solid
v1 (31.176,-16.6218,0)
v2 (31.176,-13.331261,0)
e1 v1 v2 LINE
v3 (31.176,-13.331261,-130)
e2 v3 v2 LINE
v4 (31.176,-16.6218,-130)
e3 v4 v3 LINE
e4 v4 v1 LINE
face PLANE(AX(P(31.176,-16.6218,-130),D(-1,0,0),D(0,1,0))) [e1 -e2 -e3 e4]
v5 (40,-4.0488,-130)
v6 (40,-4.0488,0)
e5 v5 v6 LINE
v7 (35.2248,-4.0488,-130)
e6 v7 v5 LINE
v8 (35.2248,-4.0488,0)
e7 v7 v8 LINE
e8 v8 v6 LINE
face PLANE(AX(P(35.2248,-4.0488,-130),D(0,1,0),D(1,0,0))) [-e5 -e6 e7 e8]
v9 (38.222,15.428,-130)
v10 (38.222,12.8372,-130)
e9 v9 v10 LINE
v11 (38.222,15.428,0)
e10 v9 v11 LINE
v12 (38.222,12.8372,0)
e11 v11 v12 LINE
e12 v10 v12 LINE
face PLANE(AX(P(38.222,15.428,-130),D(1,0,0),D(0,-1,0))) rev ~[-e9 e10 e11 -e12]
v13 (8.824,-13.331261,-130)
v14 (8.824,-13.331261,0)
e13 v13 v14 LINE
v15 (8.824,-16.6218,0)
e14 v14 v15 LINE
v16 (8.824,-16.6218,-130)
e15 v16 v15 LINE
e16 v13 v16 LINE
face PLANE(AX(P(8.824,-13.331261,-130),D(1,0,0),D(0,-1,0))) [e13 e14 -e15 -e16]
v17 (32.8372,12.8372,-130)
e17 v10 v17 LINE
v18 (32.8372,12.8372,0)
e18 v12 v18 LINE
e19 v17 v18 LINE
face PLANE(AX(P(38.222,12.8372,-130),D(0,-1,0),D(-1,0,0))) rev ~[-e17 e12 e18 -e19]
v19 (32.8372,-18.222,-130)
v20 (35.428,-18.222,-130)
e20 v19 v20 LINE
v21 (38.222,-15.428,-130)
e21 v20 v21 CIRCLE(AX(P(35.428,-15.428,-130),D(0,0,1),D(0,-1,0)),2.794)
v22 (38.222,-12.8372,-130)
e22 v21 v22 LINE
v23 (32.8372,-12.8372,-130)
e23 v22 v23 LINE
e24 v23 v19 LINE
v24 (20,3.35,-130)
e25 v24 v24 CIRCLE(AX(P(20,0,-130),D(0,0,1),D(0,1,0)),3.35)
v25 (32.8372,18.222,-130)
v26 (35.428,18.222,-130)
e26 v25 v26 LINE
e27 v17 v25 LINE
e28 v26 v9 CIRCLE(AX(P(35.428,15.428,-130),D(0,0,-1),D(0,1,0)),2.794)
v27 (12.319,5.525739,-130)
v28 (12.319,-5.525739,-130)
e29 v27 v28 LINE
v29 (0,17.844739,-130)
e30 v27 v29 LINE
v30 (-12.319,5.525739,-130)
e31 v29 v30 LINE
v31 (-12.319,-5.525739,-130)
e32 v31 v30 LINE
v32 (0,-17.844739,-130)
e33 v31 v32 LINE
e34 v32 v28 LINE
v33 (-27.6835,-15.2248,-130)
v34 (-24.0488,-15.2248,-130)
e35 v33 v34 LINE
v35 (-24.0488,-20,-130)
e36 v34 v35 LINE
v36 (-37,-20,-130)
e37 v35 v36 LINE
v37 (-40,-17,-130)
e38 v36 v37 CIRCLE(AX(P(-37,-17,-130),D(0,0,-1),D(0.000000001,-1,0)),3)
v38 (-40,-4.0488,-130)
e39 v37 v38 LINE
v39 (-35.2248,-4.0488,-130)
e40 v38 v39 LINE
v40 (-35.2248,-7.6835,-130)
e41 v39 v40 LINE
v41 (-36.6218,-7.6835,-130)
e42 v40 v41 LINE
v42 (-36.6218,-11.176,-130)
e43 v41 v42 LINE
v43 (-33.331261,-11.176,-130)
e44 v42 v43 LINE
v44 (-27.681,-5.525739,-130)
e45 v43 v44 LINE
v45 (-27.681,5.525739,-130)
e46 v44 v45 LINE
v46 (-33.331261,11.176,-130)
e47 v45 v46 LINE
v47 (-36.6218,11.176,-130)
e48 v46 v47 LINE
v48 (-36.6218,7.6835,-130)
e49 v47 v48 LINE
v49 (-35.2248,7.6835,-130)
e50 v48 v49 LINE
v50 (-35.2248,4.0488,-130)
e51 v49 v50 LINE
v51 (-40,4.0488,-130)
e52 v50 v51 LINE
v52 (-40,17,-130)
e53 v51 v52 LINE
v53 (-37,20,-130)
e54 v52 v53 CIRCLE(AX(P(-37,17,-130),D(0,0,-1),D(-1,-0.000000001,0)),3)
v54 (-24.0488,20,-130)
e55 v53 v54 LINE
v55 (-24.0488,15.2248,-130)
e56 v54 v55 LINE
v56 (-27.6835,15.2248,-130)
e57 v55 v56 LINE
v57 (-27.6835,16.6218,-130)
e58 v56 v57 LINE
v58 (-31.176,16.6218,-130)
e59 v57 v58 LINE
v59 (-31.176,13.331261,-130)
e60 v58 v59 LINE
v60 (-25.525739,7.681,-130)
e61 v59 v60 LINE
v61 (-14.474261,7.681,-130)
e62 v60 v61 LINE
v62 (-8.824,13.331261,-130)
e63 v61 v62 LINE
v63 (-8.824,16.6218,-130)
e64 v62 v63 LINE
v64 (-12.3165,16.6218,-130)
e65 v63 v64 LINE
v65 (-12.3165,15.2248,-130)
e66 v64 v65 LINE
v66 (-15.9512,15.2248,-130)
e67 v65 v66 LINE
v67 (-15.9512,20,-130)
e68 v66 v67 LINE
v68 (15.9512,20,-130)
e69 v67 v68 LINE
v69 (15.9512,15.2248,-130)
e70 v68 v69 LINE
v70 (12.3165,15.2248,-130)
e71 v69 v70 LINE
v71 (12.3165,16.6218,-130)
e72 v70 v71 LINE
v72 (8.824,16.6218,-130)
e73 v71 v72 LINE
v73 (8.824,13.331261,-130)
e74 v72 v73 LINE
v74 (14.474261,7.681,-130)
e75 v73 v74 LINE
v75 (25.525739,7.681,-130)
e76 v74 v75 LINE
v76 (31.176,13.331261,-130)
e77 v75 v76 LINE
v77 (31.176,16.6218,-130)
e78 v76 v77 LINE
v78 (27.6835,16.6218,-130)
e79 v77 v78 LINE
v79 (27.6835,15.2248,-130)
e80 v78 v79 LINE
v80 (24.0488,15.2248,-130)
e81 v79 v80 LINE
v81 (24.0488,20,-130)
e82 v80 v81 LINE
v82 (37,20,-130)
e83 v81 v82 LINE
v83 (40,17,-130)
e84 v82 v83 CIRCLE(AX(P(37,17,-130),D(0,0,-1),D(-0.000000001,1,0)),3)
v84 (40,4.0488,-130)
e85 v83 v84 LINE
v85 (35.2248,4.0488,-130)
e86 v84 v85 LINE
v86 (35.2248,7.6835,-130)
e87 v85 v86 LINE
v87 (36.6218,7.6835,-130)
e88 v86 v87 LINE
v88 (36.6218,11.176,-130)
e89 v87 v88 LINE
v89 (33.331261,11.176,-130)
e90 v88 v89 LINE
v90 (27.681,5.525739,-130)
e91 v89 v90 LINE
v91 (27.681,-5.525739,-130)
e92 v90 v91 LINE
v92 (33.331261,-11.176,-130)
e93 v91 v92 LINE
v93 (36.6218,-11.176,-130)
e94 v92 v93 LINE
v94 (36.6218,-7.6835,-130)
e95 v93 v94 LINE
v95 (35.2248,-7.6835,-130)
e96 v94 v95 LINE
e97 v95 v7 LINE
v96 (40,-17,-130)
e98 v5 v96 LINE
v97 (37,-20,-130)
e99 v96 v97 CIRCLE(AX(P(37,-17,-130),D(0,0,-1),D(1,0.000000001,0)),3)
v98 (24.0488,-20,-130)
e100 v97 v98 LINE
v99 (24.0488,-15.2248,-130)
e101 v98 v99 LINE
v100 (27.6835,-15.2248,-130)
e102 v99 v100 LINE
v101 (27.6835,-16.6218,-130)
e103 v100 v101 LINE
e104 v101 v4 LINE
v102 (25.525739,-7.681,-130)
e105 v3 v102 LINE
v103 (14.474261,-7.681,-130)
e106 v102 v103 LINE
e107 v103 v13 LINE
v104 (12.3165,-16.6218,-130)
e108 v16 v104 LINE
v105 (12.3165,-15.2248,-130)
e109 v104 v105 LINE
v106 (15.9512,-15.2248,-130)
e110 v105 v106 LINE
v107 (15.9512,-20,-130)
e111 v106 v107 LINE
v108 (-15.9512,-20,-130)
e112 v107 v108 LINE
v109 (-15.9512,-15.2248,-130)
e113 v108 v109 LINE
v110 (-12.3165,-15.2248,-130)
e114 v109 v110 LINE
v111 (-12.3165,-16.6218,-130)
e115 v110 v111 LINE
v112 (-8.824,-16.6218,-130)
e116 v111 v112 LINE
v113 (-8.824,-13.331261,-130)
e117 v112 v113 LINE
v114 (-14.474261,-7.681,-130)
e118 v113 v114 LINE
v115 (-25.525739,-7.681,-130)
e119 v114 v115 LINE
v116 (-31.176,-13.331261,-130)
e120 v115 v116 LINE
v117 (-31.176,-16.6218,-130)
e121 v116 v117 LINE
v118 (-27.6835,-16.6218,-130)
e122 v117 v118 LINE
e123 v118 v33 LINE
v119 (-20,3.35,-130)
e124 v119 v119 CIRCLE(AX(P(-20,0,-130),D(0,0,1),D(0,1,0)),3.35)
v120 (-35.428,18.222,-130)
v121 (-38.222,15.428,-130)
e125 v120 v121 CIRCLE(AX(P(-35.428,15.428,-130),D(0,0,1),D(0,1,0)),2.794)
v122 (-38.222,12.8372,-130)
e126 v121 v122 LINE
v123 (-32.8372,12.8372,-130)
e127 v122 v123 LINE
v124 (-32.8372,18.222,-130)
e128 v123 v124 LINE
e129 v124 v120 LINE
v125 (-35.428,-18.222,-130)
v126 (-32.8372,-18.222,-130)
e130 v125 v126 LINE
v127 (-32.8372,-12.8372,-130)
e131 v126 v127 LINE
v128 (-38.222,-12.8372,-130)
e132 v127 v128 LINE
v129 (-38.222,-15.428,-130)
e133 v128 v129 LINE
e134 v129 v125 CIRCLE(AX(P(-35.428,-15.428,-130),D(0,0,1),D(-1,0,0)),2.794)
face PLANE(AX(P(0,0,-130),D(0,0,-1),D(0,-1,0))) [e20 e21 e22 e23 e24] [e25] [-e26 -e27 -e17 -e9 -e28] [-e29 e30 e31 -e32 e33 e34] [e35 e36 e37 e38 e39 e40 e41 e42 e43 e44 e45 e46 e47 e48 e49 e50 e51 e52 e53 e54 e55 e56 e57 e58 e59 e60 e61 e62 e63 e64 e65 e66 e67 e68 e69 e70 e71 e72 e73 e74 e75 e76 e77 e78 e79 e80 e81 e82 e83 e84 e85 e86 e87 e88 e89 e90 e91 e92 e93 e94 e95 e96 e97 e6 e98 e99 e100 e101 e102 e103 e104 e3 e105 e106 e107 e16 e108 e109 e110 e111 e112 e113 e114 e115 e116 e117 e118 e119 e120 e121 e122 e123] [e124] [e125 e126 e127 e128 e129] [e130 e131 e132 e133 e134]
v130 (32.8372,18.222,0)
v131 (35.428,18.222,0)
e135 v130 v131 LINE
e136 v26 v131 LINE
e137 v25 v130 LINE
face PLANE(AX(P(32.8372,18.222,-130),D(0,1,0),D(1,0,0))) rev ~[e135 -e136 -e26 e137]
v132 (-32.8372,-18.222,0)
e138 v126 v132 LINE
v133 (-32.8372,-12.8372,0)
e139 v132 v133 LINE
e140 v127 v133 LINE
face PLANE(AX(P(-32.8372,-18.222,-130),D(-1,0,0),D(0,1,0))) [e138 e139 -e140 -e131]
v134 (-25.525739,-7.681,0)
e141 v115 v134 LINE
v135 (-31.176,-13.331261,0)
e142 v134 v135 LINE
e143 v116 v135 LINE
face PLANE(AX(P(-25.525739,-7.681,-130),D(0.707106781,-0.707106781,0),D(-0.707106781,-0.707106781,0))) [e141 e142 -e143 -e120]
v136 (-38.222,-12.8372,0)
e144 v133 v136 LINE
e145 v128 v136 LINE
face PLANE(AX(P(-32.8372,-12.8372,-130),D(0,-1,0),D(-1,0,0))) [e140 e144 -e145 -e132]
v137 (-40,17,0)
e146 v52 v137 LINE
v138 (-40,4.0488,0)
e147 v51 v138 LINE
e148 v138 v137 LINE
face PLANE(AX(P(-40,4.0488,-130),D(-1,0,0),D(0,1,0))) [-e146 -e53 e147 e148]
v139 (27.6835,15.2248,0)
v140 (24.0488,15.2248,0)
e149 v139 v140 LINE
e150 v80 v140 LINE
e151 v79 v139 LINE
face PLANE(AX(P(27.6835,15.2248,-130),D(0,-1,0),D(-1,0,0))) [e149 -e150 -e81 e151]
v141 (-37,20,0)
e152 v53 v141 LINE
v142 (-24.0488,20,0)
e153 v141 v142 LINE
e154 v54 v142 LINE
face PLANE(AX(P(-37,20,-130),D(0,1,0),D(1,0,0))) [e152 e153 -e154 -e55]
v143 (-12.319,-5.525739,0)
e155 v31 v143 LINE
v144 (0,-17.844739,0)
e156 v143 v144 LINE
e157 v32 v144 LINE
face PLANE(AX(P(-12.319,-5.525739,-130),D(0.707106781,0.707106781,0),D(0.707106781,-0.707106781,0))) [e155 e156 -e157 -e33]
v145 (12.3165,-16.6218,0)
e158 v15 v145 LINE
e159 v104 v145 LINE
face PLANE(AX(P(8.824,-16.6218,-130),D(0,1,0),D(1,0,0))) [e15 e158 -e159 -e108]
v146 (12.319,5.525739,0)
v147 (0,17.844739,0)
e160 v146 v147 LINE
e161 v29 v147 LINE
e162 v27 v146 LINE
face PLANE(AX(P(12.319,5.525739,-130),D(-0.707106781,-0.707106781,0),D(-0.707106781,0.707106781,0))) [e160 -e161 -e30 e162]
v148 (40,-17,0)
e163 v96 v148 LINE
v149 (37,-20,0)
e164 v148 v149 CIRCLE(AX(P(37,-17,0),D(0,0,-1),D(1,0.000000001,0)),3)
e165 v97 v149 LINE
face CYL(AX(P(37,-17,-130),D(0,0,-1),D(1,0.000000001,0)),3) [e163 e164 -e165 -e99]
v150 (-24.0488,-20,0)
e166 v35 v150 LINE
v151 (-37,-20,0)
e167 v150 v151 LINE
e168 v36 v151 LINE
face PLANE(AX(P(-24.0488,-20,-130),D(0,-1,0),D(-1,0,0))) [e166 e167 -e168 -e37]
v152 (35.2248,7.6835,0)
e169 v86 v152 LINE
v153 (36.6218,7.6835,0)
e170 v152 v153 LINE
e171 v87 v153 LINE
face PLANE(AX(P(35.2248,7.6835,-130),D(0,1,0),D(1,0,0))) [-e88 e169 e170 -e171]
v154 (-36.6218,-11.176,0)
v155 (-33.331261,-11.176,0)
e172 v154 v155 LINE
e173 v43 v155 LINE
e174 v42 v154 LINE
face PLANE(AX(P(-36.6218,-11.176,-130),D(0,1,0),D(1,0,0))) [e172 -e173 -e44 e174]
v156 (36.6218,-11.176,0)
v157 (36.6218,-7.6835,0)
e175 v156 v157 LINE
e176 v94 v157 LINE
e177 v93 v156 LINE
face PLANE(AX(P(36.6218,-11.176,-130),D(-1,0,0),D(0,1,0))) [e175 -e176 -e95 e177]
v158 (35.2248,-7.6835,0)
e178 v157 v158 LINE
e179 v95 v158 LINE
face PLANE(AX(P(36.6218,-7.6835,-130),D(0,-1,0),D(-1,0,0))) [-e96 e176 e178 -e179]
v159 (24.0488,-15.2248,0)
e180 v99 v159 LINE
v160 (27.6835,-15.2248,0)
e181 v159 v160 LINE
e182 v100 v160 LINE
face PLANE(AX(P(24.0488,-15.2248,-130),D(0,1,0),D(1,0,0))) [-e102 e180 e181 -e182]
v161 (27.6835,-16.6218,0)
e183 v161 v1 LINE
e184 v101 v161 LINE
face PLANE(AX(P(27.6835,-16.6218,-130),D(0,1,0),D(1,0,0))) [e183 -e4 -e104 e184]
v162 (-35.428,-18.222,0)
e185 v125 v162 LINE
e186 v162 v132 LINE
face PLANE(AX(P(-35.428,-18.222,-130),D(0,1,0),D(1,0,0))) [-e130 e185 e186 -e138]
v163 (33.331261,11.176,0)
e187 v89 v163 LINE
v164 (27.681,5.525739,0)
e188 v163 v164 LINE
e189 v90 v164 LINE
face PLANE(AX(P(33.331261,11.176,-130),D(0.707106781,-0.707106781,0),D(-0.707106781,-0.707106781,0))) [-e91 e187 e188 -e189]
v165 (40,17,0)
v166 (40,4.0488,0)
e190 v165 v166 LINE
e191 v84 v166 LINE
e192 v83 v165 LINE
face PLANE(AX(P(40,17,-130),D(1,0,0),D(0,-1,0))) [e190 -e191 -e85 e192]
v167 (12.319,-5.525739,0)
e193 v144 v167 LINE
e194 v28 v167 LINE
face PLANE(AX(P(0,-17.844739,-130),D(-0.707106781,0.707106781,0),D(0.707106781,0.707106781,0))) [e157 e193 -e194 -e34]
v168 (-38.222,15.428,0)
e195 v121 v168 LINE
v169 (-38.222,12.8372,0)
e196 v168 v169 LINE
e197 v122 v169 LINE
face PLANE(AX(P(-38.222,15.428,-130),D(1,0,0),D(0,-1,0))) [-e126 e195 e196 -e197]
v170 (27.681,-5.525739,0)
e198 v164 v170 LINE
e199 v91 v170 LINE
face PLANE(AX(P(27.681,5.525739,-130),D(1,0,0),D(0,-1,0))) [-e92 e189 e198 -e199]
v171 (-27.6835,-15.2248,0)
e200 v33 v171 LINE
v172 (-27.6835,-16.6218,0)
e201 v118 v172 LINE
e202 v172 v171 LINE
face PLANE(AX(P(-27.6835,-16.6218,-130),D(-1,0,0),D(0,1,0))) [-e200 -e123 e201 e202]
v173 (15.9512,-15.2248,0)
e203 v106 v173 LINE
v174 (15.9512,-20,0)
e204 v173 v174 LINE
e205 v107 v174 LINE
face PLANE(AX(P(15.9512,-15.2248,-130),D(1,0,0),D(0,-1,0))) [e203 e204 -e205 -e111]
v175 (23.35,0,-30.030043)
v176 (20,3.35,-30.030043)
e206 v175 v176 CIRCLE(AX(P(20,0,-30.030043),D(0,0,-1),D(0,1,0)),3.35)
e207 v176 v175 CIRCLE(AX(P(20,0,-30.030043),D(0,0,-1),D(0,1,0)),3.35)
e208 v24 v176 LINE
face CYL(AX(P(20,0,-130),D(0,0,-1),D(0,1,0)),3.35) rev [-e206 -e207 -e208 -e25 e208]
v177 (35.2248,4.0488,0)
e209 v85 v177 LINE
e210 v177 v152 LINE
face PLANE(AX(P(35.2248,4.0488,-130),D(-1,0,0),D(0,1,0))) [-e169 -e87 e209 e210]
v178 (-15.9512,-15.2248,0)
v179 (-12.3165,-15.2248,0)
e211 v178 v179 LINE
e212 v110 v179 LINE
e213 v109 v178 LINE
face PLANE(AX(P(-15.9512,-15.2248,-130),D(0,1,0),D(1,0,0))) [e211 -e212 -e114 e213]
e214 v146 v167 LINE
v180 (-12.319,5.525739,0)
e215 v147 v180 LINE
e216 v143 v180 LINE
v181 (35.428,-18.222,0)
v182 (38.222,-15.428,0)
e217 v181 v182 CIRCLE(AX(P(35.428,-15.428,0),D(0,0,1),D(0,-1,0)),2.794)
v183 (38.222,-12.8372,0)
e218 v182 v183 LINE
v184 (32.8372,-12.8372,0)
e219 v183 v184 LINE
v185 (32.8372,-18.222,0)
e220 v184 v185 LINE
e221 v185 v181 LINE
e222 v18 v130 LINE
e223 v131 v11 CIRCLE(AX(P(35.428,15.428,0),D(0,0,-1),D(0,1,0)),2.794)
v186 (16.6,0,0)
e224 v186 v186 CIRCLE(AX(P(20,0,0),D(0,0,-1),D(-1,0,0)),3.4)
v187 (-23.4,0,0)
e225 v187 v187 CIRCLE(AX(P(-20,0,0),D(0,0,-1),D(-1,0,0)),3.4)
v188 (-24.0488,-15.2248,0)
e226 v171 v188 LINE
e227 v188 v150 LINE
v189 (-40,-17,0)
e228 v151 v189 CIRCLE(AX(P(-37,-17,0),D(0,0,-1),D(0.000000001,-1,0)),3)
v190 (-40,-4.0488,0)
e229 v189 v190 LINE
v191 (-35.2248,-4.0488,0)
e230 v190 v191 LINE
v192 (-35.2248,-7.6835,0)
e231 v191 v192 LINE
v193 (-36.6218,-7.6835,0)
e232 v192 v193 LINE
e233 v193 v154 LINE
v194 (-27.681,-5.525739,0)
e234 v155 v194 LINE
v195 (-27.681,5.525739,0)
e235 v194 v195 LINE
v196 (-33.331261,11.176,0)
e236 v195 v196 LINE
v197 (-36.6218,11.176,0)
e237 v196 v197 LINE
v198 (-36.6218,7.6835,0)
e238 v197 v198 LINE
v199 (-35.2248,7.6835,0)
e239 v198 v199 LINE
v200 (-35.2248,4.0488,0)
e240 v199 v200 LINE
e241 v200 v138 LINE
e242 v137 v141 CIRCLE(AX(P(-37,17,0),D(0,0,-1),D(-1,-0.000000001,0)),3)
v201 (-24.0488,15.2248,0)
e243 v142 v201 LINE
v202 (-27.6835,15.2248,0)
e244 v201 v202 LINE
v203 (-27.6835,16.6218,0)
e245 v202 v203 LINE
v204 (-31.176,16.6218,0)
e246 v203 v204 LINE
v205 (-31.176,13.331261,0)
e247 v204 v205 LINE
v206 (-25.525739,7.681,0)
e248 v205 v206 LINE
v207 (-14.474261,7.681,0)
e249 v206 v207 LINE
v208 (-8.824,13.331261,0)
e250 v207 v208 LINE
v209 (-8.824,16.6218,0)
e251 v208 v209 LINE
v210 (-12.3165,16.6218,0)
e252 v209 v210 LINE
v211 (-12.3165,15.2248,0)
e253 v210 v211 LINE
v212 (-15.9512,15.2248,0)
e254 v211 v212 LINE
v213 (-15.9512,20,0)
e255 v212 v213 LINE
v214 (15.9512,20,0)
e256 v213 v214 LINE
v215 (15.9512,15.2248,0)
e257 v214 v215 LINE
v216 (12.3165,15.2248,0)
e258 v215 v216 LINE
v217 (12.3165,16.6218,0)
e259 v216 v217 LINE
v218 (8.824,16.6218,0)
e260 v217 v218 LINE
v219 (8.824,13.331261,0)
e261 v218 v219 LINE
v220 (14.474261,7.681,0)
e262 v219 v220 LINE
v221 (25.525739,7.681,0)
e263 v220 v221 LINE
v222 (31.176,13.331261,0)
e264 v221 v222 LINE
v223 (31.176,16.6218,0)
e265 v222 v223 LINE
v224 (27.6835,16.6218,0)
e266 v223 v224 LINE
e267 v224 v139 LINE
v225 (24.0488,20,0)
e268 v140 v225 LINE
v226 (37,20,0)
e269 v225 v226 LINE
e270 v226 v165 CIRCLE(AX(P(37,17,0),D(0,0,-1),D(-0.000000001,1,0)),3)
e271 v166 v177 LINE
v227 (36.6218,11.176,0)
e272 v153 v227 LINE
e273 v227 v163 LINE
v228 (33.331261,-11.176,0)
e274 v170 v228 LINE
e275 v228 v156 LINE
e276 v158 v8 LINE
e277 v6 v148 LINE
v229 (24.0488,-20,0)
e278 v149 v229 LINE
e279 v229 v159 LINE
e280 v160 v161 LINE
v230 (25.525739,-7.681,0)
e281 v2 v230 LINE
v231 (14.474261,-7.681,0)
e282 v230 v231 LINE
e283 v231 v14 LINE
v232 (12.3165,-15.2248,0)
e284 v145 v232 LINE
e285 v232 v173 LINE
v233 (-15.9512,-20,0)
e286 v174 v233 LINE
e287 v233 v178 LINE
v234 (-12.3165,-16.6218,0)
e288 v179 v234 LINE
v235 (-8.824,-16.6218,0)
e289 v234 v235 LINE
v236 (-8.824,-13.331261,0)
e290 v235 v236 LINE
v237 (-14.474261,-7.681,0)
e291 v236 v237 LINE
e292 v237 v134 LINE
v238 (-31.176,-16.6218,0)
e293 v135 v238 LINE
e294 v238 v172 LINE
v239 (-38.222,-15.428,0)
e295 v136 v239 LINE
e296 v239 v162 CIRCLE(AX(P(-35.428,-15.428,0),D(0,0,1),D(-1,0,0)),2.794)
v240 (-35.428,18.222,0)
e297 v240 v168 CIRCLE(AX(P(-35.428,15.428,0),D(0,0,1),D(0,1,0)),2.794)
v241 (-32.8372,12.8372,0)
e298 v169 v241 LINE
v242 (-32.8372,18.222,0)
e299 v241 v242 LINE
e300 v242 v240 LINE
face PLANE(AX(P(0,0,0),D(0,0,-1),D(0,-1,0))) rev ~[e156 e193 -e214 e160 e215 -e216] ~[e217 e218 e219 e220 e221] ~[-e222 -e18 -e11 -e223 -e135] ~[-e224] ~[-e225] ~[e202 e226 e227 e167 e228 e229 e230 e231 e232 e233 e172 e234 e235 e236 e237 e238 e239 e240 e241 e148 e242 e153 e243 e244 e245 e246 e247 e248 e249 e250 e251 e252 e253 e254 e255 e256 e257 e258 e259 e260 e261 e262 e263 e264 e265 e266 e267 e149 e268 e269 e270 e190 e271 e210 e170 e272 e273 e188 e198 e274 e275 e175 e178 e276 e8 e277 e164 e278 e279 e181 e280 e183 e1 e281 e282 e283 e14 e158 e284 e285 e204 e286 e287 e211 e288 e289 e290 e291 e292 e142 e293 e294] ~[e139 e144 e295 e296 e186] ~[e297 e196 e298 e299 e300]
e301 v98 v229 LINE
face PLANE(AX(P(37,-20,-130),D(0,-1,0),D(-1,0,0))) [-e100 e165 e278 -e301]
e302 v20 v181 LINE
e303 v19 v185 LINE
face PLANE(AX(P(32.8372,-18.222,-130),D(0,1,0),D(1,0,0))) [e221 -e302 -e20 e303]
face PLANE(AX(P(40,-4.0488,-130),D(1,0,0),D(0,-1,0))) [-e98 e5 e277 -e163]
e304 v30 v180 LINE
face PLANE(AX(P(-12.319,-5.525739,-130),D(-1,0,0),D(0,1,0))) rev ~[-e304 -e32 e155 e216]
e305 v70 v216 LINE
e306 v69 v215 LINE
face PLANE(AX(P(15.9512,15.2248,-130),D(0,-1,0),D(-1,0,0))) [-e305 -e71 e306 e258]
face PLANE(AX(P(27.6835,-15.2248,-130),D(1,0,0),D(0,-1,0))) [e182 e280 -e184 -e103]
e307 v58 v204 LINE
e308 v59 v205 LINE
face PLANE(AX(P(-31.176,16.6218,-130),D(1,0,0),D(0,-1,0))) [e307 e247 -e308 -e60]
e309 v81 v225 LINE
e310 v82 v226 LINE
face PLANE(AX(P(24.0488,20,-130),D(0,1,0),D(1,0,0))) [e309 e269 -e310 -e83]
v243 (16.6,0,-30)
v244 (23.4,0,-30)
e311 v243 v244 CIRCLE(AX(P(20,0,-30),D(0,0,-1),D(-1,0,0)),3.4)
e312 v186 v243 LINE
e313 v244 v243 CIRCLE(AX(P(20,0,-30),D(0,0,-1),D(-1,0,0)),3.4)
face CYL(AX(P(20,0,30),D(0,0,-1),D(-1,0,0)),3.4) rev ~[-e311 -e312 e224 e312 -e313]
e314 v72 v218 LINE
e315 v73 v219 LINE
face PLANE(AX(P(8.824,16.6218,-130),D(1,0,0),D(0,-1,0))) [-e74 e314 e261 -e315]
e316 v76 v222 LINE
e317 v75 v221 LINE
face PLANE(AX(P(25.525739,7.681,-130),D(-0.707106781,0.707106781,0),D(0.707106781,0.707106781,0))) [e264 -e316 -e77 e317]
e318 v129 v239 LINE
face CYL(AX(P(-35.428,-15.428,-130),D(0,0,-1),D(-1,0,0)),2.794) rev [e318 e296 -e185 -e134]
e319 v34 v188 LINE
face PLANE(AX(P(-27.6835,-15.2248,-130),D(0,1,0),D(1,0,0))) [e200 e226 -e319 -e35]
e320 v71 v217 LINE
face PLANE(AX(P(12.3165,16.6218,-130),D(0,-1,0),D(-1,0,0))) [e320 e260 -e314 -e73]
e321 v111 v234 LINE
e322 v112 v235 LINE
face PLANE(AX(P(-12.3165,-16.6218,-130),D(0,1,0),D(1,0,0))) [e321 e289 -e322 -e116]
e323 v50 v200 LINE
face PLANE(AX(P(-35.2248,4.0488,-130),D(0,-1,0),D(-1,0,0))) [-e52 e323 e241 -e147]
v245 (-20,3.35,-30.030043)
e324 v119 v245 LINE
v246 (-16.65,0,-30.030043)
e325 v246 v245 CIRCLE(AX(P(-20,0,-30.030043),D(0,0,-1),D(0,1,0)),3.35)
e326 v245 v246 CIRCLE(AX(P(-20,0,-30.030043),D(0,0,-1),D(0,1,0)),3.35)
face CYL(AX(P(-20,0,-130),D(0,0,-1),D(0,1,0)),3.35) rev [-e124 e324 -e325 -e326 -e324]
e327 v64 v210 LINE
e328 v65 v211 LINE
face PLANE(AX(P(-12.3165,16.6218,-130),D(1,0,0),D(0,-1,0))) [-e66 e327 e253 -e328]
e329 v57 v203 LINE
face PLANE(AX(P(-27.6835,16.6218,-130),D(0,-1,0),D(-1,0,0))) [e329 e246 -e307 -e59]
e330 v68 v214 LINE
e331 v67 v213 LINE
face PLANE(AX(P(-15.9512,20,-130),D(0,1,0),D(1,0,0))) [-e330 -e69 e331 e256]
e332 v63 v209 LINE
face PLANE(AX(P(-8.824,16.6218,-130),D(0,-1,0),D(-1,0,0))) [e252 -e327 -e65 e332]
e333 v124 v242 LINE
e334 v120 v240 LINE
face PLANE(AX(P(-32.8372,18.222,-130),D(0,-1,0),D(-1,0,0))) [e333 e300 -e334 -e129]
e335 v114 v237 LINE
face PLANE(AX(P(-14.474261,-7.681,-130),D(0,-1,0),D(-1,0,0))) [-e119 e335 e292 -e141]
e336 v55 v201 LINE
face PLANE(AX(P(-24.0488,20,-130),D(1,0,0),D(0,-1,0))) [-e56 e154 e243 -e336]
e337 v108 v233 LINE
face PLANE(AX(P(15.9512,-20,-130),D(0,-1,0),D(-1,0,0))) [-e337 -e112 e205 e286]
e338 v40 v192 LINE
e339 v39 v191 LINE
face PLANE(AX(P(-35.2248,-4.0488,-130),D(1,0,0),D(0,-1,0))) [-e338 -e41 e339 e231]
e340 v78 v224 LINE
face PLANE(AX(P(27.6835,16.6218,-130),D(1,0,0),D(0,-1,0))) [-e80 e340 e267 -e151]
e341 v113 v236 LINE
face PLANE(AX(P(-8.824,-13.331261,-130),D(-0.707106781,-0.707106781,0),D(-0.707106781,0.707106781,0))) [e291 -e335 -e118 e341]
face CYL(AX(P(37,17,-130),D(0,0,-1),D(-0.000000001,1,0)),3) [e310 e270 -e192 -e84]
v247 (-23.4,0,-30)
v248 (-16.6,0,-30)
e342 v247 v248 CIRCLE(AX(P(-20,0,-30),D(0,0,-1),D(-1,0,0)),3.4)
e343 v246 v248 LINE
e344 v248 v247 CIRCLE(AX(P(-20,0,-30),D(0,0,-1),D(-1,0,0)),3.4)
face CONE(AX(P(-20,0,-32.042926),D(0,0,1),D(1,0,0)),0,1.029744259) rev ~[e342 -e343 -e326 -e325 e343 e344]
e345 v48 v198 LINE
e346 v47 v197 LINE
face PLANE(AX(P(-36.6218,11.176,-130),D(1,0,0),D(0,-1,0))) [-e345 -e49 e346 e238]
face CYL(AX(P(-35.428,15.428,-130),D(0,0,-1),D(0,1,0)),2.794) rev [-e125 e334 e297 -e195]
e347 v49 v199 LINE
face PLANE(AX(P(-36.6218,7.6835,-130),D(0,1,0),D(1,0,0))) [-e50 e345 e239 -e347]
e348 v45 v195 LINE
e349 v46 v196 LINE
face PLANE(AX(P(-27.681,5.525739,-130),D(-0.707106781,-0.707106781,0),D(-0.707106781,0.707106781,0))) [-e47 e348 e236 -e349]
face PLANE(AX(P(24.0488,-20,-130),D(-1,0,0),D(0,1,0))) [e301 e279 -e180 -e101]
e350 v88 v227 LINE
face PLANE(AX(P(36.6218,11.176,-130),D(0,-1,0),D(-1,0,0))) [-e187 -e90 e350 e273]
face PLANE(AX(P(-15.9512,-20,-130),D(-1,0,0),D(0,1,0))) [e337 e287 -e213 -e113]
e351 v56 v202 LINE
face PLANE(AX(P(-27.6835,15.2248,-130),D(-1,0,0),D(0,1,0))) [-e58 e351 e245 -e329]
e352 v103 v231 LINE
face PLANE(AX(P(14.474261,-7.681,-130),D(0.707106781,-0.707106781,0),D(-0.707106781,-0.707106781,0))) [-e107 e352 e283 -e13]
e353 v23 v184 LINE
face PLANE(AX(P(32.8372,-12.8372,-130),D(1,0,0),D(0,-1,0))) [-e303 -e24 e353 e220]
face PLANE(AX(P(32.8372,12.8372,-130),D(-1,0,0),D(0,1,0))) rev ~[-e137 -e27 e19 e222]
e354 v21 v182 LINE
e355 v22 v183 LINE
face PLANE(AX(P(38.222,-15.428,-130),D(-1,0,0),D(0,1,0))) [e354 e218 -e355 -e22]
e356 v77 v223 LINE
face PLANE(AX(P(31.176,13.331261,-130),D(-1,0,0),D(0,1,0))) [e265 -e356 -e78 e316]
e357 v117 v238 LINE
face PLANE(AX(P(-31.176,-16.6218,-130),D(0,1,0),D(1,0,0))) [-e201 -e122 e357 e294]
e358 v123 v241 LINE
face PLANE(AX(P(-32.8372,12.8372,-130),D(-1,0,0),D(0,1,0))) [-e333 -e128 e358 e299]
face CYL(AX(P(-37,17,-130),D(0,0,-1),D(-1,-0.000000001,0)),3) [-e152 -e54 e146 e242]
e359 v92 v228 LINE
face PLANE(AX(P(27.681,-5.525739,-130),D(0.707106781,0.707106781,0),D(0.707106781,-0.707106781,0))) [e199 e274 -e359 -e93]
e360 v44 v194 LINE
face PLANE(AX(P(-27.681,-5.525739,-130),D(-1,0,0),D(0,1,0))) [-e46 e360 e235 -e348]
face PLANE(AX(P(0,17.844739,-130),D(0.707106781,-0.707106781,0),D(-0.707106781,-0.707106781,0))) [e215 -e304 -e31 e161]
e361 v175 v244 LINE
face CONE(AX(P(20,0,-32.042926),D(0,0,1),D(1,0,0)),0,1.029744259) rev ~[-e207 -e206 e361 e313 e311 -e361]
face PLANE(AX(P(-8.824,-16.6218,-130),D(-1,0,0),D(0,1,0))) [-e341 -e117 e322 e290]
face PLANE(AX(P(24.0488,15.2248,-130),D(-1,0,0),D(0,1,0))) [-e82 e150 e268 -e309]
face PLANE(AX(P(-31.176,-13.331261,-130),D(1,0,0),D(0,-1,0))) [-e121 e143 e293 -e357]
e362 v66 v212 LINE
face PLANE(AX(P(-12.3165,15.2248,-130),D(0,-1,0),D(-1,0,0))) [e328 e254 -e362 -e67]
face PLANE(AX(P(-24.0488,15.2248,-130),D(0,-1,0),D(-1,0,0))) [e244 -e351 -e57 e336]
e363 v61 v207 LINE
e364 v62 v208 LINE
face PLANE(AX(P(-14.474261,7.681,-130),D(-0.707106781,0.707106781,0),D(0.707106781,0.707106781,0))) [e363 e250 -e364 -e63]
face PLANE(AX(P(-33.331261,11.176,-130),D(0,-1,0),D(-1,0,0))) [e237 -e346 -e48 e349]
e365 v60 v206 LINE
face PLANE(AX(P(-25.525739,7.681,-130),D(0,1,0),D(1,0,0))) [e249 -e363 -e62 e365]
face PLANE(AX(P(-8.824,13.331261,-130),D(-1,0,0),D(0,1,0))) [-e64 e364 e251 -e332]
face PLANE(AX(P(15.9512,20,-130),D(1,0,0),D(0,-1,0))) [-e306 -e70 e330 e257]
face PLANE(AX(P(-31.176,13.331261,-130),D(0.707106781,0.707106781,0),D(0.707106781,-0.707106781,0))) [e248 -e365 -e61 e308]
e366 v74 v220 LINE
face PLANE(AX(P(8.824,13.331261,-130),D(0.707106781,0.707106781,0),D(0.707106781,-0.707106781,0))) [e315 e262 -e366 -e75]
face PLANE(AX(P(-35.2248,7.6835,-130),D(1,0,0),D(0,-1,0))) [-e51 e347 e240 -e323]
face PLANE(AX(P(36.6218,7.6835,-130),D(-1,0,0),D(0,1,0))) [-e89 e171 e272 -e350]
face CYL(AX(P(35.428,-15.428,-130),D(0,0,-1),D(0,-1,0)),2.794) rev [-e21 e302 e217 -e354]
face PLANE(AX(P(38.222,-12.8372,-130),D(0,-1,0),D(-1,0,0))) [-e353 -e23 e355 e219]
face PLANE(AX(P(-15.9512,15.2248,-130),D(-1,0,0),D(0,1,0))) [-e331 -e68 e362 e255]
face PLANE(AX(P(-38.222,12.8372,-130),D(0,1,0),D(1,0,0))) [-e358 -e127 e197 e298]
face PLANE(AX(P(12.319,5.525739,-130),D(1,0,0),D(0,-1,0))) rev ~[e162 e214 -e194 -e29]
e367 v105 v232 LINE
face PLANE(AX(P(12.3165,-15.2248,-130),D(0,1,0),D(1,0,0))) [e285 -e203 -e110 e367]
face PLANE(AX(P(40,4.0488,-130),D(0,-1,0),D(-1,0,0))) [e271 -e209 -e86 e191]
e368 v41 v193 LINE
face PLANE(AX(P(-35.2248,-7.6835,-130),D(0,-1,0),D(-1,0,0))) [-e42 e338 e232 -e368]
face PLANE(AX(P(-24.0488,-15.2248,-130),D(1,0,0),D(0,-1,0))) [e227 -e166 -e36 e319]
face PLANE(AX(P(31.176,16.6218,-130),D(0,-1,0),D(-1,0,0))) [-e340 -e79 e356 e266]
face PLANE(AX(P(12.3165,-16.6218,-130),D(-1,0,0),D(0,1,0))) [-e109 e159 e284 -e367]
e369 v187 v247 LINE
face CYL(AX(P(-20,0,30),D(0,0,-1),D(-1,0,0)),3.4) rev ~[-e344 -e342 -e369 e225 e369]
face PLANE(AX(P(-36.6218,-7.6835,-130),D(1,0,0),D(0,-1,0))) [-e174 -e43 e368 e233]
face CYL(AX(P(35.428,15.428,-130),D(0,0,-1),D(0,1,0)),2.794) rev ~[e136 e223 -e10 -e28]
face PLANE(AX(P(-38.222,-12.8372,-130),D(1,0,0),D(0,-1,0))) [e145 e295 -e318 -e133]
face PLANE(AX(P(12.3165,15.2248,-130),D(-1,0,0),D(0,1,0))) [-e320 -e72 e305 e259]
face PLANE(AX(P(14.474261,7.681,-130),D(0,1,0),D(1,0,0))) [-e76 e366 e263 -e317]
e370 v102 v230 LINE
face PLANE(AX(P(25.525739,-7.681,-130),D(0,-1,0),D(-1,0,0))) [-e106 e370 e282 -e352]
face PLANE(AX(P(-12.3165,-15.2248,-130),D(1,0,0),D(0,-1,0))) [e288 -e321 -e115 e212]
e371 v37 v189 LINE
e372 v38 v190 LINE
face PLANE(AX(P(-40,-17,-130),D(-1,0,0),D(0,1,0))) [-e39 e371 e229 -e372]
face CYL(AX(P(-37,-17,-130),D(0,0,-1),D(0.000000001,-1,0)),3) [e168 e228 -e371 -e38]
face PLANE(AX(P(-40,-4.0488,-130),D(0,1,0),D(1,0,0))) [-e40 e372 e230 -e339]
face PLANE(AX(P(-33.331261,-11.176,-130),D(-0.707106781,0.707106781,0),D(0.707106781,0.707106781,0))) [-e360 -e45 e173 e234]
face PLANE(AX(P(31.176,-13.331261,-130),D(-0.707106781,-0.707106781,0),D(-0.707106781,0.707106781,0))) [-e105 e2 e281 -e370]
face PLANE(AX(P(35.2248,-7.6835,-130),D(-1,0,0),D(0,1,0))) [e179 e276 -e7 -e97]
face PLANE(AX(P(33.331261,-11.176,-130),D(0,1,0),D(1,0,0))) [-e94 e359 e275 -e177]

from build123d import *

# Parameters (mm, degrees)
SKETCH2_R                            = 3.35
F_40_SERIES_TS40_80LM_650037_1_DEPTH = 130
M8X1_25_TAPPED_HOLE1_D               = 6.8
M8X1_25_TAPPED_HOLE1_DEPTH           = 30
M8X1_25_TAPPED_HOLE1_TIP             = 2.042926105


with BuildPart() as part:
    # Sketch2 → 40 series TS40-80LM-650037(1) (new body)
    with BuildSketch(Plane(origin=(0, 0, -130), x_dir=(0, 1, 0), z_dir=(0, 0, 1))):
        with BuildLine():
            Line((0, -27.681), (-5.525738531, -27.681))
            Line((-5.525738531, -27.681), (-11.176, -33.331261469))
            Line((-11.176, -33.331261469), (-11.176, -36.6218))
            Line((-11.176, -36.6218), (-7.6835, -36.6218))
            Line((-7.6835, -36.6218), (-7.6835, -35.2248))
            Line((-7.6835, -35.2248), (-4.0488, -35.2248))
            Line((-4.0488, -35.2248), (-4.0488, -40))
            Line((-4.0488, -40), (-17, -40))
            ThreePointArc((-17, -40), (-19.121320344, -39.121320344), (-20, -37))
            Line((-20, -37), (-20, -24.0488))
            Line((-20, -24.0488), (-15.2248, -24.0488))
            Line((-15.2248, -24.0488), (-15.2248, -27.6835))
            Line((-15.2248, -27.6835), (-16.6218, -27.6835))
            Line((-16.6218, -27.6835), (-16.6218, -31.176))
            Line((-16.6218, -31.176), (-13.331261469, -31.176))
            Line((-13.331261469, -31.176), (-7.681, -25.525738531))
            Line((-7.681, -25.525738531), (-7.681, -20))
            Line((-7.681, -20), (-7.681, -14.474261469))
            Line((-7.681, -14.474261469), (-13.331261469, -8.824))
            Line((-13.331261469, -8.824), (-16.6218, -8.824))
            Line((-16.6218, -8.824), (-16.6218, -12.3165))
            Line((-16.6218, -12.3165), (-15.2248, -12.3165))
            Line((-15.2248, -12.3165), (-15.2248, -15.9512))
            Line((-15.2248, -15.9512), (-20, -15.9512))
            Line((-20, -15.9512), (-20, 15.9512))
            Line((-20, 15.9512), (-15.2248, 15.9512))
            Line((-15.2248, 15.9512), (-15.2248, 12.3165))
            Line((-15.2248, 12.3165), (-16.6218, 12.3165))
            Line((-16.6218, 12.3165), (-16.6218, 8.824))
            Line((-16.6218, 8.824), (-13.331261469, 8.824))
            Line((-13.331261469, 8.824), (-7.681, 14.474261469))
            Line((-7.681, 14.474261469), (-7.681, 25.525738531))
            Line((-7.681, 25.525738531), (-13.331261469, 31.176))
            Line((-13.331261469, 31.176), (-16.6218, 31.176))
            Line((-16.6218, 31.176), (-16.6218, 27.6835))
            Line((-16.6218, 27.6835), (-15.2248, 27.6835))
            Line((-15.2248, 27.6835), (-15.2248, 24.0488))
            Line((-15.2248, 24.0488), (-20, 24.0488))
            Line((-20, 24.0488), (-20, 37))
            ThreePointArc((-20, 37), (-19.121320344, 39.121320344), (-17, 40))
            Line((-17, 40), (-4.0488, 40))
            Line((-4.0488, 40), (-4.0488, 35.2248))
            Line((-4.0488, 35.2248), (-7.6835, 35.2248))
            Line((-7.6835, 35.2248), (-7.6835, 36.6218))
            Line((-7.6835, 36.6218), (-11.176, 36.6218))
            Line((-11.176, 36.6218), (-11.176, 33.331261469))
            Line((-11.176, 33.331261469), (-5.525738531, 27.681))
            Line((-5.525738531, 27.681), (0, 27.681))
            Line((0, 27.681), (5.525738531, 27.681))
            Line((5.525738531, 27.681), (11.176, 33.331261469))
            Line((11.176, 33.331261469), (11.176, 36.6218))
            Line((11.176, 36.6218), (7.6835, 36.6218))
            Line((7.6835, 36.6218), (7.6835, 35.2248))
            Line((7.6835, 35.2248), (4.0488, 35.2248))
            Line((4.0488, 35.2248), (4.0488, 40))
            Line((4.0488, 40), (17, 40))
            ThreePointArc((17, 40), (19.121320344, 39.121320344), (20, 37))
            Line((20, 37), (20, 24.0488))
            Line((20, 24.0488), (15.2248, 24.0488))
            Line((15.2248, 24.0488), (15.2248, 27.6835))
            Line((15.2248, 27.6835), (16.6218, 27.6835))
            Line((16.6218, 27.6835), (16.6218, 31.176))
            Line((16.6218, 31.176), (13.331261469, 31.176))
            Line((13.331261469, 31.176), (7.681, 25.525738531))
            Line((7.681, 25.525738531), (7.681, 20))
            Line((7.681, 20), (7.681, 14.474261469))
            Line((7.681, 14.474261469), (13.331261469, 8.824))
            Line((13.331261469, 8.824), (16.6218, 8.824))
            Line((16.6218, 8.824), (16.6218, 12.3165))
            Line((16.6218, 12.3165), (15.2248, 12.3165))
            Line((15.2248, 12.3165), (15.2248, 15.9512))
            Line((15.2248, 15.9512), (20, 15.9512))
            Line((20, 15.9512), (20, -15.9512))
            Line((20, -15.9512), (15.2248, -15.9512))
            Line((15.2248, -15.9512), (15.2248, -12.3165))
            Line((15.2248, -12.3165), (16.6218, -12.3165))
            Line((16.6218, -12.3165), (16.6218, -8.824))
            Line((16.6218, -8.824), (13.331261469, -8.824))
            Line((13.331261469, -8.824), (7.681, -14.474261469))
            Line((7.681, -14.474261469), (7.681, -20))
            Line((7.681, -20), (7.681, -25.525738531))
            Line((7.681, -25.525738531), (13.331261469, -31.176))
            Line((13.331261469, -31.176), (16.6218, -31.176))
            Line((16.6218, -31.176), (16.6218, -27.6835))
            Line((16.6218, -27.6835), (15.2248, -27.6835))
            Line((15.2248, -27.6835), (15.2248, -24.0488))
            Line((15.2248, -24.0488), (20, -24.0488))
            Line((20, -24.0488), (20, -37))
            ThreePointArc((20, -37), (19.121320344, -39.121320344), (17, -40))
            Line((17, -40), (4.0488, -40))
            Line((4.0488, -40), (4.0488, -35.2248))
            Line((4.0488, -35.2248), (7.6835, -35.2248))
            Line((7.6835, -35.2248), (7.6835, -36.6218))
            Line((7.6835, -36.6218), (11.176, -36.6218))
            Line((11.176, -36.6218), (11.176, -33.331261469))
            Line((11.176, -33.331261469), (5.525738531, -27.681))
            Line((5.525738531, -27.681), (0, -27.681))
        make_face()
        with Locations((0, -20)):
            Circle(SKETCH2_R, mode=Mode.SUBTRACT)
        with Locations((0, 20)):
            Circle(SKETCH2_R, mode=Mode.SUBTRACT)
        Polygon((-5.525738531, 12.319), (-17.844738531, 0), (-5.525738531, -12.319), (0, -12.319), (5.525738531, -12.319), (17.844738531, 0), (5.525738531, 12.319), (0, 12.319), align=None, mode=Mode.SUBTRACT)
        with BuildLine():
            Line((12.8372, 38.222), (12.8372, 32.8372))
            Line((12.8372, 32.8372), (18.222, 32.8372))
            Line((18.222, 32.8372), (18.222, 35.428))
            ThreePointArc((18.222, 35.428), (17.403656347, 37.403656347), (15.428, 38.222))
            Line((15.428, 38.222), (12.8372, 38.222))
        make_face(mode=Mode.SUBTRACT)
        with BuildLine():
            Line((12.8372, -32.8372), (18.222, -32.8372))
            Line((18.222, -32.8372), (18.222, -35.428))
            ThreePointArc((18.222, -35.428), (17.403656347, -37.403656347), (15.428, -38.222))
            Line((15.428, -38.222), (12.8372, -38.222))
            Line((12.8372, -38.222), (12.8372, -32.8372))
        make_face(mode=Mode.SUBTRACT)
        with BuildLine():
            Line((-12.8372, -38.222), (-12.8372, -32.8372))
            Line((-12.8372, -32.8372), (-18.222, -32.8372))
            Line((-18.222, -32.8372), (-18.222, -35.428))
            ThreePointArc((-18.222, -35.428), (-17.403656347, -37.403656347), (-15.428, -38.222))
            Line((-15.428, -38.222), (-12.8372, -38.222))
        make_face(mode=Mode.SUBTRACT)
        with BuildLine():
            Line((-18.222, 35.428), (-18.222, 32.8372))
            Line((-18.222, 32.8372), (-12.8372, 32.8372))
            Line((-12.8372, 32.8372), (-12.8372, 38.222))
            Line((-12.8372, 38.222), (-15.428, 38.222))
            ThreePointArc((-15.428, 38.222), (-17.403656347, 37.403656347), (-18.222, 35.428))
        make_face(mode=Mode.SUBTRACT)
    extrude(amount=F_40_SERIES_TS40_80LM_650037_1_DEPTH)

    # M8x1.25 Tapped Hole1
    with Locations(Plane.XY):
        with Locations((-20, 0), (20, 0)):
            Hole(M8X1_25_TAPPED_HOLE1_D / 2, depth=M8X1_25_TAPPED_HOLE1_DEPTH)
            with Locations((0, 0, -(M8X1_25_TAPPED_HOLE1_DEPTH + M8X1_25_TAPPED_HOLE1_TIP / 2))):  # 118° drill point
                Cone(0, M8X1_25_TAPPED_HOLE1_D / 2, M8X1_25_TAPPED_HOLE1_TIP, mode=Mode.SUBTRACT)


solid = part.part
